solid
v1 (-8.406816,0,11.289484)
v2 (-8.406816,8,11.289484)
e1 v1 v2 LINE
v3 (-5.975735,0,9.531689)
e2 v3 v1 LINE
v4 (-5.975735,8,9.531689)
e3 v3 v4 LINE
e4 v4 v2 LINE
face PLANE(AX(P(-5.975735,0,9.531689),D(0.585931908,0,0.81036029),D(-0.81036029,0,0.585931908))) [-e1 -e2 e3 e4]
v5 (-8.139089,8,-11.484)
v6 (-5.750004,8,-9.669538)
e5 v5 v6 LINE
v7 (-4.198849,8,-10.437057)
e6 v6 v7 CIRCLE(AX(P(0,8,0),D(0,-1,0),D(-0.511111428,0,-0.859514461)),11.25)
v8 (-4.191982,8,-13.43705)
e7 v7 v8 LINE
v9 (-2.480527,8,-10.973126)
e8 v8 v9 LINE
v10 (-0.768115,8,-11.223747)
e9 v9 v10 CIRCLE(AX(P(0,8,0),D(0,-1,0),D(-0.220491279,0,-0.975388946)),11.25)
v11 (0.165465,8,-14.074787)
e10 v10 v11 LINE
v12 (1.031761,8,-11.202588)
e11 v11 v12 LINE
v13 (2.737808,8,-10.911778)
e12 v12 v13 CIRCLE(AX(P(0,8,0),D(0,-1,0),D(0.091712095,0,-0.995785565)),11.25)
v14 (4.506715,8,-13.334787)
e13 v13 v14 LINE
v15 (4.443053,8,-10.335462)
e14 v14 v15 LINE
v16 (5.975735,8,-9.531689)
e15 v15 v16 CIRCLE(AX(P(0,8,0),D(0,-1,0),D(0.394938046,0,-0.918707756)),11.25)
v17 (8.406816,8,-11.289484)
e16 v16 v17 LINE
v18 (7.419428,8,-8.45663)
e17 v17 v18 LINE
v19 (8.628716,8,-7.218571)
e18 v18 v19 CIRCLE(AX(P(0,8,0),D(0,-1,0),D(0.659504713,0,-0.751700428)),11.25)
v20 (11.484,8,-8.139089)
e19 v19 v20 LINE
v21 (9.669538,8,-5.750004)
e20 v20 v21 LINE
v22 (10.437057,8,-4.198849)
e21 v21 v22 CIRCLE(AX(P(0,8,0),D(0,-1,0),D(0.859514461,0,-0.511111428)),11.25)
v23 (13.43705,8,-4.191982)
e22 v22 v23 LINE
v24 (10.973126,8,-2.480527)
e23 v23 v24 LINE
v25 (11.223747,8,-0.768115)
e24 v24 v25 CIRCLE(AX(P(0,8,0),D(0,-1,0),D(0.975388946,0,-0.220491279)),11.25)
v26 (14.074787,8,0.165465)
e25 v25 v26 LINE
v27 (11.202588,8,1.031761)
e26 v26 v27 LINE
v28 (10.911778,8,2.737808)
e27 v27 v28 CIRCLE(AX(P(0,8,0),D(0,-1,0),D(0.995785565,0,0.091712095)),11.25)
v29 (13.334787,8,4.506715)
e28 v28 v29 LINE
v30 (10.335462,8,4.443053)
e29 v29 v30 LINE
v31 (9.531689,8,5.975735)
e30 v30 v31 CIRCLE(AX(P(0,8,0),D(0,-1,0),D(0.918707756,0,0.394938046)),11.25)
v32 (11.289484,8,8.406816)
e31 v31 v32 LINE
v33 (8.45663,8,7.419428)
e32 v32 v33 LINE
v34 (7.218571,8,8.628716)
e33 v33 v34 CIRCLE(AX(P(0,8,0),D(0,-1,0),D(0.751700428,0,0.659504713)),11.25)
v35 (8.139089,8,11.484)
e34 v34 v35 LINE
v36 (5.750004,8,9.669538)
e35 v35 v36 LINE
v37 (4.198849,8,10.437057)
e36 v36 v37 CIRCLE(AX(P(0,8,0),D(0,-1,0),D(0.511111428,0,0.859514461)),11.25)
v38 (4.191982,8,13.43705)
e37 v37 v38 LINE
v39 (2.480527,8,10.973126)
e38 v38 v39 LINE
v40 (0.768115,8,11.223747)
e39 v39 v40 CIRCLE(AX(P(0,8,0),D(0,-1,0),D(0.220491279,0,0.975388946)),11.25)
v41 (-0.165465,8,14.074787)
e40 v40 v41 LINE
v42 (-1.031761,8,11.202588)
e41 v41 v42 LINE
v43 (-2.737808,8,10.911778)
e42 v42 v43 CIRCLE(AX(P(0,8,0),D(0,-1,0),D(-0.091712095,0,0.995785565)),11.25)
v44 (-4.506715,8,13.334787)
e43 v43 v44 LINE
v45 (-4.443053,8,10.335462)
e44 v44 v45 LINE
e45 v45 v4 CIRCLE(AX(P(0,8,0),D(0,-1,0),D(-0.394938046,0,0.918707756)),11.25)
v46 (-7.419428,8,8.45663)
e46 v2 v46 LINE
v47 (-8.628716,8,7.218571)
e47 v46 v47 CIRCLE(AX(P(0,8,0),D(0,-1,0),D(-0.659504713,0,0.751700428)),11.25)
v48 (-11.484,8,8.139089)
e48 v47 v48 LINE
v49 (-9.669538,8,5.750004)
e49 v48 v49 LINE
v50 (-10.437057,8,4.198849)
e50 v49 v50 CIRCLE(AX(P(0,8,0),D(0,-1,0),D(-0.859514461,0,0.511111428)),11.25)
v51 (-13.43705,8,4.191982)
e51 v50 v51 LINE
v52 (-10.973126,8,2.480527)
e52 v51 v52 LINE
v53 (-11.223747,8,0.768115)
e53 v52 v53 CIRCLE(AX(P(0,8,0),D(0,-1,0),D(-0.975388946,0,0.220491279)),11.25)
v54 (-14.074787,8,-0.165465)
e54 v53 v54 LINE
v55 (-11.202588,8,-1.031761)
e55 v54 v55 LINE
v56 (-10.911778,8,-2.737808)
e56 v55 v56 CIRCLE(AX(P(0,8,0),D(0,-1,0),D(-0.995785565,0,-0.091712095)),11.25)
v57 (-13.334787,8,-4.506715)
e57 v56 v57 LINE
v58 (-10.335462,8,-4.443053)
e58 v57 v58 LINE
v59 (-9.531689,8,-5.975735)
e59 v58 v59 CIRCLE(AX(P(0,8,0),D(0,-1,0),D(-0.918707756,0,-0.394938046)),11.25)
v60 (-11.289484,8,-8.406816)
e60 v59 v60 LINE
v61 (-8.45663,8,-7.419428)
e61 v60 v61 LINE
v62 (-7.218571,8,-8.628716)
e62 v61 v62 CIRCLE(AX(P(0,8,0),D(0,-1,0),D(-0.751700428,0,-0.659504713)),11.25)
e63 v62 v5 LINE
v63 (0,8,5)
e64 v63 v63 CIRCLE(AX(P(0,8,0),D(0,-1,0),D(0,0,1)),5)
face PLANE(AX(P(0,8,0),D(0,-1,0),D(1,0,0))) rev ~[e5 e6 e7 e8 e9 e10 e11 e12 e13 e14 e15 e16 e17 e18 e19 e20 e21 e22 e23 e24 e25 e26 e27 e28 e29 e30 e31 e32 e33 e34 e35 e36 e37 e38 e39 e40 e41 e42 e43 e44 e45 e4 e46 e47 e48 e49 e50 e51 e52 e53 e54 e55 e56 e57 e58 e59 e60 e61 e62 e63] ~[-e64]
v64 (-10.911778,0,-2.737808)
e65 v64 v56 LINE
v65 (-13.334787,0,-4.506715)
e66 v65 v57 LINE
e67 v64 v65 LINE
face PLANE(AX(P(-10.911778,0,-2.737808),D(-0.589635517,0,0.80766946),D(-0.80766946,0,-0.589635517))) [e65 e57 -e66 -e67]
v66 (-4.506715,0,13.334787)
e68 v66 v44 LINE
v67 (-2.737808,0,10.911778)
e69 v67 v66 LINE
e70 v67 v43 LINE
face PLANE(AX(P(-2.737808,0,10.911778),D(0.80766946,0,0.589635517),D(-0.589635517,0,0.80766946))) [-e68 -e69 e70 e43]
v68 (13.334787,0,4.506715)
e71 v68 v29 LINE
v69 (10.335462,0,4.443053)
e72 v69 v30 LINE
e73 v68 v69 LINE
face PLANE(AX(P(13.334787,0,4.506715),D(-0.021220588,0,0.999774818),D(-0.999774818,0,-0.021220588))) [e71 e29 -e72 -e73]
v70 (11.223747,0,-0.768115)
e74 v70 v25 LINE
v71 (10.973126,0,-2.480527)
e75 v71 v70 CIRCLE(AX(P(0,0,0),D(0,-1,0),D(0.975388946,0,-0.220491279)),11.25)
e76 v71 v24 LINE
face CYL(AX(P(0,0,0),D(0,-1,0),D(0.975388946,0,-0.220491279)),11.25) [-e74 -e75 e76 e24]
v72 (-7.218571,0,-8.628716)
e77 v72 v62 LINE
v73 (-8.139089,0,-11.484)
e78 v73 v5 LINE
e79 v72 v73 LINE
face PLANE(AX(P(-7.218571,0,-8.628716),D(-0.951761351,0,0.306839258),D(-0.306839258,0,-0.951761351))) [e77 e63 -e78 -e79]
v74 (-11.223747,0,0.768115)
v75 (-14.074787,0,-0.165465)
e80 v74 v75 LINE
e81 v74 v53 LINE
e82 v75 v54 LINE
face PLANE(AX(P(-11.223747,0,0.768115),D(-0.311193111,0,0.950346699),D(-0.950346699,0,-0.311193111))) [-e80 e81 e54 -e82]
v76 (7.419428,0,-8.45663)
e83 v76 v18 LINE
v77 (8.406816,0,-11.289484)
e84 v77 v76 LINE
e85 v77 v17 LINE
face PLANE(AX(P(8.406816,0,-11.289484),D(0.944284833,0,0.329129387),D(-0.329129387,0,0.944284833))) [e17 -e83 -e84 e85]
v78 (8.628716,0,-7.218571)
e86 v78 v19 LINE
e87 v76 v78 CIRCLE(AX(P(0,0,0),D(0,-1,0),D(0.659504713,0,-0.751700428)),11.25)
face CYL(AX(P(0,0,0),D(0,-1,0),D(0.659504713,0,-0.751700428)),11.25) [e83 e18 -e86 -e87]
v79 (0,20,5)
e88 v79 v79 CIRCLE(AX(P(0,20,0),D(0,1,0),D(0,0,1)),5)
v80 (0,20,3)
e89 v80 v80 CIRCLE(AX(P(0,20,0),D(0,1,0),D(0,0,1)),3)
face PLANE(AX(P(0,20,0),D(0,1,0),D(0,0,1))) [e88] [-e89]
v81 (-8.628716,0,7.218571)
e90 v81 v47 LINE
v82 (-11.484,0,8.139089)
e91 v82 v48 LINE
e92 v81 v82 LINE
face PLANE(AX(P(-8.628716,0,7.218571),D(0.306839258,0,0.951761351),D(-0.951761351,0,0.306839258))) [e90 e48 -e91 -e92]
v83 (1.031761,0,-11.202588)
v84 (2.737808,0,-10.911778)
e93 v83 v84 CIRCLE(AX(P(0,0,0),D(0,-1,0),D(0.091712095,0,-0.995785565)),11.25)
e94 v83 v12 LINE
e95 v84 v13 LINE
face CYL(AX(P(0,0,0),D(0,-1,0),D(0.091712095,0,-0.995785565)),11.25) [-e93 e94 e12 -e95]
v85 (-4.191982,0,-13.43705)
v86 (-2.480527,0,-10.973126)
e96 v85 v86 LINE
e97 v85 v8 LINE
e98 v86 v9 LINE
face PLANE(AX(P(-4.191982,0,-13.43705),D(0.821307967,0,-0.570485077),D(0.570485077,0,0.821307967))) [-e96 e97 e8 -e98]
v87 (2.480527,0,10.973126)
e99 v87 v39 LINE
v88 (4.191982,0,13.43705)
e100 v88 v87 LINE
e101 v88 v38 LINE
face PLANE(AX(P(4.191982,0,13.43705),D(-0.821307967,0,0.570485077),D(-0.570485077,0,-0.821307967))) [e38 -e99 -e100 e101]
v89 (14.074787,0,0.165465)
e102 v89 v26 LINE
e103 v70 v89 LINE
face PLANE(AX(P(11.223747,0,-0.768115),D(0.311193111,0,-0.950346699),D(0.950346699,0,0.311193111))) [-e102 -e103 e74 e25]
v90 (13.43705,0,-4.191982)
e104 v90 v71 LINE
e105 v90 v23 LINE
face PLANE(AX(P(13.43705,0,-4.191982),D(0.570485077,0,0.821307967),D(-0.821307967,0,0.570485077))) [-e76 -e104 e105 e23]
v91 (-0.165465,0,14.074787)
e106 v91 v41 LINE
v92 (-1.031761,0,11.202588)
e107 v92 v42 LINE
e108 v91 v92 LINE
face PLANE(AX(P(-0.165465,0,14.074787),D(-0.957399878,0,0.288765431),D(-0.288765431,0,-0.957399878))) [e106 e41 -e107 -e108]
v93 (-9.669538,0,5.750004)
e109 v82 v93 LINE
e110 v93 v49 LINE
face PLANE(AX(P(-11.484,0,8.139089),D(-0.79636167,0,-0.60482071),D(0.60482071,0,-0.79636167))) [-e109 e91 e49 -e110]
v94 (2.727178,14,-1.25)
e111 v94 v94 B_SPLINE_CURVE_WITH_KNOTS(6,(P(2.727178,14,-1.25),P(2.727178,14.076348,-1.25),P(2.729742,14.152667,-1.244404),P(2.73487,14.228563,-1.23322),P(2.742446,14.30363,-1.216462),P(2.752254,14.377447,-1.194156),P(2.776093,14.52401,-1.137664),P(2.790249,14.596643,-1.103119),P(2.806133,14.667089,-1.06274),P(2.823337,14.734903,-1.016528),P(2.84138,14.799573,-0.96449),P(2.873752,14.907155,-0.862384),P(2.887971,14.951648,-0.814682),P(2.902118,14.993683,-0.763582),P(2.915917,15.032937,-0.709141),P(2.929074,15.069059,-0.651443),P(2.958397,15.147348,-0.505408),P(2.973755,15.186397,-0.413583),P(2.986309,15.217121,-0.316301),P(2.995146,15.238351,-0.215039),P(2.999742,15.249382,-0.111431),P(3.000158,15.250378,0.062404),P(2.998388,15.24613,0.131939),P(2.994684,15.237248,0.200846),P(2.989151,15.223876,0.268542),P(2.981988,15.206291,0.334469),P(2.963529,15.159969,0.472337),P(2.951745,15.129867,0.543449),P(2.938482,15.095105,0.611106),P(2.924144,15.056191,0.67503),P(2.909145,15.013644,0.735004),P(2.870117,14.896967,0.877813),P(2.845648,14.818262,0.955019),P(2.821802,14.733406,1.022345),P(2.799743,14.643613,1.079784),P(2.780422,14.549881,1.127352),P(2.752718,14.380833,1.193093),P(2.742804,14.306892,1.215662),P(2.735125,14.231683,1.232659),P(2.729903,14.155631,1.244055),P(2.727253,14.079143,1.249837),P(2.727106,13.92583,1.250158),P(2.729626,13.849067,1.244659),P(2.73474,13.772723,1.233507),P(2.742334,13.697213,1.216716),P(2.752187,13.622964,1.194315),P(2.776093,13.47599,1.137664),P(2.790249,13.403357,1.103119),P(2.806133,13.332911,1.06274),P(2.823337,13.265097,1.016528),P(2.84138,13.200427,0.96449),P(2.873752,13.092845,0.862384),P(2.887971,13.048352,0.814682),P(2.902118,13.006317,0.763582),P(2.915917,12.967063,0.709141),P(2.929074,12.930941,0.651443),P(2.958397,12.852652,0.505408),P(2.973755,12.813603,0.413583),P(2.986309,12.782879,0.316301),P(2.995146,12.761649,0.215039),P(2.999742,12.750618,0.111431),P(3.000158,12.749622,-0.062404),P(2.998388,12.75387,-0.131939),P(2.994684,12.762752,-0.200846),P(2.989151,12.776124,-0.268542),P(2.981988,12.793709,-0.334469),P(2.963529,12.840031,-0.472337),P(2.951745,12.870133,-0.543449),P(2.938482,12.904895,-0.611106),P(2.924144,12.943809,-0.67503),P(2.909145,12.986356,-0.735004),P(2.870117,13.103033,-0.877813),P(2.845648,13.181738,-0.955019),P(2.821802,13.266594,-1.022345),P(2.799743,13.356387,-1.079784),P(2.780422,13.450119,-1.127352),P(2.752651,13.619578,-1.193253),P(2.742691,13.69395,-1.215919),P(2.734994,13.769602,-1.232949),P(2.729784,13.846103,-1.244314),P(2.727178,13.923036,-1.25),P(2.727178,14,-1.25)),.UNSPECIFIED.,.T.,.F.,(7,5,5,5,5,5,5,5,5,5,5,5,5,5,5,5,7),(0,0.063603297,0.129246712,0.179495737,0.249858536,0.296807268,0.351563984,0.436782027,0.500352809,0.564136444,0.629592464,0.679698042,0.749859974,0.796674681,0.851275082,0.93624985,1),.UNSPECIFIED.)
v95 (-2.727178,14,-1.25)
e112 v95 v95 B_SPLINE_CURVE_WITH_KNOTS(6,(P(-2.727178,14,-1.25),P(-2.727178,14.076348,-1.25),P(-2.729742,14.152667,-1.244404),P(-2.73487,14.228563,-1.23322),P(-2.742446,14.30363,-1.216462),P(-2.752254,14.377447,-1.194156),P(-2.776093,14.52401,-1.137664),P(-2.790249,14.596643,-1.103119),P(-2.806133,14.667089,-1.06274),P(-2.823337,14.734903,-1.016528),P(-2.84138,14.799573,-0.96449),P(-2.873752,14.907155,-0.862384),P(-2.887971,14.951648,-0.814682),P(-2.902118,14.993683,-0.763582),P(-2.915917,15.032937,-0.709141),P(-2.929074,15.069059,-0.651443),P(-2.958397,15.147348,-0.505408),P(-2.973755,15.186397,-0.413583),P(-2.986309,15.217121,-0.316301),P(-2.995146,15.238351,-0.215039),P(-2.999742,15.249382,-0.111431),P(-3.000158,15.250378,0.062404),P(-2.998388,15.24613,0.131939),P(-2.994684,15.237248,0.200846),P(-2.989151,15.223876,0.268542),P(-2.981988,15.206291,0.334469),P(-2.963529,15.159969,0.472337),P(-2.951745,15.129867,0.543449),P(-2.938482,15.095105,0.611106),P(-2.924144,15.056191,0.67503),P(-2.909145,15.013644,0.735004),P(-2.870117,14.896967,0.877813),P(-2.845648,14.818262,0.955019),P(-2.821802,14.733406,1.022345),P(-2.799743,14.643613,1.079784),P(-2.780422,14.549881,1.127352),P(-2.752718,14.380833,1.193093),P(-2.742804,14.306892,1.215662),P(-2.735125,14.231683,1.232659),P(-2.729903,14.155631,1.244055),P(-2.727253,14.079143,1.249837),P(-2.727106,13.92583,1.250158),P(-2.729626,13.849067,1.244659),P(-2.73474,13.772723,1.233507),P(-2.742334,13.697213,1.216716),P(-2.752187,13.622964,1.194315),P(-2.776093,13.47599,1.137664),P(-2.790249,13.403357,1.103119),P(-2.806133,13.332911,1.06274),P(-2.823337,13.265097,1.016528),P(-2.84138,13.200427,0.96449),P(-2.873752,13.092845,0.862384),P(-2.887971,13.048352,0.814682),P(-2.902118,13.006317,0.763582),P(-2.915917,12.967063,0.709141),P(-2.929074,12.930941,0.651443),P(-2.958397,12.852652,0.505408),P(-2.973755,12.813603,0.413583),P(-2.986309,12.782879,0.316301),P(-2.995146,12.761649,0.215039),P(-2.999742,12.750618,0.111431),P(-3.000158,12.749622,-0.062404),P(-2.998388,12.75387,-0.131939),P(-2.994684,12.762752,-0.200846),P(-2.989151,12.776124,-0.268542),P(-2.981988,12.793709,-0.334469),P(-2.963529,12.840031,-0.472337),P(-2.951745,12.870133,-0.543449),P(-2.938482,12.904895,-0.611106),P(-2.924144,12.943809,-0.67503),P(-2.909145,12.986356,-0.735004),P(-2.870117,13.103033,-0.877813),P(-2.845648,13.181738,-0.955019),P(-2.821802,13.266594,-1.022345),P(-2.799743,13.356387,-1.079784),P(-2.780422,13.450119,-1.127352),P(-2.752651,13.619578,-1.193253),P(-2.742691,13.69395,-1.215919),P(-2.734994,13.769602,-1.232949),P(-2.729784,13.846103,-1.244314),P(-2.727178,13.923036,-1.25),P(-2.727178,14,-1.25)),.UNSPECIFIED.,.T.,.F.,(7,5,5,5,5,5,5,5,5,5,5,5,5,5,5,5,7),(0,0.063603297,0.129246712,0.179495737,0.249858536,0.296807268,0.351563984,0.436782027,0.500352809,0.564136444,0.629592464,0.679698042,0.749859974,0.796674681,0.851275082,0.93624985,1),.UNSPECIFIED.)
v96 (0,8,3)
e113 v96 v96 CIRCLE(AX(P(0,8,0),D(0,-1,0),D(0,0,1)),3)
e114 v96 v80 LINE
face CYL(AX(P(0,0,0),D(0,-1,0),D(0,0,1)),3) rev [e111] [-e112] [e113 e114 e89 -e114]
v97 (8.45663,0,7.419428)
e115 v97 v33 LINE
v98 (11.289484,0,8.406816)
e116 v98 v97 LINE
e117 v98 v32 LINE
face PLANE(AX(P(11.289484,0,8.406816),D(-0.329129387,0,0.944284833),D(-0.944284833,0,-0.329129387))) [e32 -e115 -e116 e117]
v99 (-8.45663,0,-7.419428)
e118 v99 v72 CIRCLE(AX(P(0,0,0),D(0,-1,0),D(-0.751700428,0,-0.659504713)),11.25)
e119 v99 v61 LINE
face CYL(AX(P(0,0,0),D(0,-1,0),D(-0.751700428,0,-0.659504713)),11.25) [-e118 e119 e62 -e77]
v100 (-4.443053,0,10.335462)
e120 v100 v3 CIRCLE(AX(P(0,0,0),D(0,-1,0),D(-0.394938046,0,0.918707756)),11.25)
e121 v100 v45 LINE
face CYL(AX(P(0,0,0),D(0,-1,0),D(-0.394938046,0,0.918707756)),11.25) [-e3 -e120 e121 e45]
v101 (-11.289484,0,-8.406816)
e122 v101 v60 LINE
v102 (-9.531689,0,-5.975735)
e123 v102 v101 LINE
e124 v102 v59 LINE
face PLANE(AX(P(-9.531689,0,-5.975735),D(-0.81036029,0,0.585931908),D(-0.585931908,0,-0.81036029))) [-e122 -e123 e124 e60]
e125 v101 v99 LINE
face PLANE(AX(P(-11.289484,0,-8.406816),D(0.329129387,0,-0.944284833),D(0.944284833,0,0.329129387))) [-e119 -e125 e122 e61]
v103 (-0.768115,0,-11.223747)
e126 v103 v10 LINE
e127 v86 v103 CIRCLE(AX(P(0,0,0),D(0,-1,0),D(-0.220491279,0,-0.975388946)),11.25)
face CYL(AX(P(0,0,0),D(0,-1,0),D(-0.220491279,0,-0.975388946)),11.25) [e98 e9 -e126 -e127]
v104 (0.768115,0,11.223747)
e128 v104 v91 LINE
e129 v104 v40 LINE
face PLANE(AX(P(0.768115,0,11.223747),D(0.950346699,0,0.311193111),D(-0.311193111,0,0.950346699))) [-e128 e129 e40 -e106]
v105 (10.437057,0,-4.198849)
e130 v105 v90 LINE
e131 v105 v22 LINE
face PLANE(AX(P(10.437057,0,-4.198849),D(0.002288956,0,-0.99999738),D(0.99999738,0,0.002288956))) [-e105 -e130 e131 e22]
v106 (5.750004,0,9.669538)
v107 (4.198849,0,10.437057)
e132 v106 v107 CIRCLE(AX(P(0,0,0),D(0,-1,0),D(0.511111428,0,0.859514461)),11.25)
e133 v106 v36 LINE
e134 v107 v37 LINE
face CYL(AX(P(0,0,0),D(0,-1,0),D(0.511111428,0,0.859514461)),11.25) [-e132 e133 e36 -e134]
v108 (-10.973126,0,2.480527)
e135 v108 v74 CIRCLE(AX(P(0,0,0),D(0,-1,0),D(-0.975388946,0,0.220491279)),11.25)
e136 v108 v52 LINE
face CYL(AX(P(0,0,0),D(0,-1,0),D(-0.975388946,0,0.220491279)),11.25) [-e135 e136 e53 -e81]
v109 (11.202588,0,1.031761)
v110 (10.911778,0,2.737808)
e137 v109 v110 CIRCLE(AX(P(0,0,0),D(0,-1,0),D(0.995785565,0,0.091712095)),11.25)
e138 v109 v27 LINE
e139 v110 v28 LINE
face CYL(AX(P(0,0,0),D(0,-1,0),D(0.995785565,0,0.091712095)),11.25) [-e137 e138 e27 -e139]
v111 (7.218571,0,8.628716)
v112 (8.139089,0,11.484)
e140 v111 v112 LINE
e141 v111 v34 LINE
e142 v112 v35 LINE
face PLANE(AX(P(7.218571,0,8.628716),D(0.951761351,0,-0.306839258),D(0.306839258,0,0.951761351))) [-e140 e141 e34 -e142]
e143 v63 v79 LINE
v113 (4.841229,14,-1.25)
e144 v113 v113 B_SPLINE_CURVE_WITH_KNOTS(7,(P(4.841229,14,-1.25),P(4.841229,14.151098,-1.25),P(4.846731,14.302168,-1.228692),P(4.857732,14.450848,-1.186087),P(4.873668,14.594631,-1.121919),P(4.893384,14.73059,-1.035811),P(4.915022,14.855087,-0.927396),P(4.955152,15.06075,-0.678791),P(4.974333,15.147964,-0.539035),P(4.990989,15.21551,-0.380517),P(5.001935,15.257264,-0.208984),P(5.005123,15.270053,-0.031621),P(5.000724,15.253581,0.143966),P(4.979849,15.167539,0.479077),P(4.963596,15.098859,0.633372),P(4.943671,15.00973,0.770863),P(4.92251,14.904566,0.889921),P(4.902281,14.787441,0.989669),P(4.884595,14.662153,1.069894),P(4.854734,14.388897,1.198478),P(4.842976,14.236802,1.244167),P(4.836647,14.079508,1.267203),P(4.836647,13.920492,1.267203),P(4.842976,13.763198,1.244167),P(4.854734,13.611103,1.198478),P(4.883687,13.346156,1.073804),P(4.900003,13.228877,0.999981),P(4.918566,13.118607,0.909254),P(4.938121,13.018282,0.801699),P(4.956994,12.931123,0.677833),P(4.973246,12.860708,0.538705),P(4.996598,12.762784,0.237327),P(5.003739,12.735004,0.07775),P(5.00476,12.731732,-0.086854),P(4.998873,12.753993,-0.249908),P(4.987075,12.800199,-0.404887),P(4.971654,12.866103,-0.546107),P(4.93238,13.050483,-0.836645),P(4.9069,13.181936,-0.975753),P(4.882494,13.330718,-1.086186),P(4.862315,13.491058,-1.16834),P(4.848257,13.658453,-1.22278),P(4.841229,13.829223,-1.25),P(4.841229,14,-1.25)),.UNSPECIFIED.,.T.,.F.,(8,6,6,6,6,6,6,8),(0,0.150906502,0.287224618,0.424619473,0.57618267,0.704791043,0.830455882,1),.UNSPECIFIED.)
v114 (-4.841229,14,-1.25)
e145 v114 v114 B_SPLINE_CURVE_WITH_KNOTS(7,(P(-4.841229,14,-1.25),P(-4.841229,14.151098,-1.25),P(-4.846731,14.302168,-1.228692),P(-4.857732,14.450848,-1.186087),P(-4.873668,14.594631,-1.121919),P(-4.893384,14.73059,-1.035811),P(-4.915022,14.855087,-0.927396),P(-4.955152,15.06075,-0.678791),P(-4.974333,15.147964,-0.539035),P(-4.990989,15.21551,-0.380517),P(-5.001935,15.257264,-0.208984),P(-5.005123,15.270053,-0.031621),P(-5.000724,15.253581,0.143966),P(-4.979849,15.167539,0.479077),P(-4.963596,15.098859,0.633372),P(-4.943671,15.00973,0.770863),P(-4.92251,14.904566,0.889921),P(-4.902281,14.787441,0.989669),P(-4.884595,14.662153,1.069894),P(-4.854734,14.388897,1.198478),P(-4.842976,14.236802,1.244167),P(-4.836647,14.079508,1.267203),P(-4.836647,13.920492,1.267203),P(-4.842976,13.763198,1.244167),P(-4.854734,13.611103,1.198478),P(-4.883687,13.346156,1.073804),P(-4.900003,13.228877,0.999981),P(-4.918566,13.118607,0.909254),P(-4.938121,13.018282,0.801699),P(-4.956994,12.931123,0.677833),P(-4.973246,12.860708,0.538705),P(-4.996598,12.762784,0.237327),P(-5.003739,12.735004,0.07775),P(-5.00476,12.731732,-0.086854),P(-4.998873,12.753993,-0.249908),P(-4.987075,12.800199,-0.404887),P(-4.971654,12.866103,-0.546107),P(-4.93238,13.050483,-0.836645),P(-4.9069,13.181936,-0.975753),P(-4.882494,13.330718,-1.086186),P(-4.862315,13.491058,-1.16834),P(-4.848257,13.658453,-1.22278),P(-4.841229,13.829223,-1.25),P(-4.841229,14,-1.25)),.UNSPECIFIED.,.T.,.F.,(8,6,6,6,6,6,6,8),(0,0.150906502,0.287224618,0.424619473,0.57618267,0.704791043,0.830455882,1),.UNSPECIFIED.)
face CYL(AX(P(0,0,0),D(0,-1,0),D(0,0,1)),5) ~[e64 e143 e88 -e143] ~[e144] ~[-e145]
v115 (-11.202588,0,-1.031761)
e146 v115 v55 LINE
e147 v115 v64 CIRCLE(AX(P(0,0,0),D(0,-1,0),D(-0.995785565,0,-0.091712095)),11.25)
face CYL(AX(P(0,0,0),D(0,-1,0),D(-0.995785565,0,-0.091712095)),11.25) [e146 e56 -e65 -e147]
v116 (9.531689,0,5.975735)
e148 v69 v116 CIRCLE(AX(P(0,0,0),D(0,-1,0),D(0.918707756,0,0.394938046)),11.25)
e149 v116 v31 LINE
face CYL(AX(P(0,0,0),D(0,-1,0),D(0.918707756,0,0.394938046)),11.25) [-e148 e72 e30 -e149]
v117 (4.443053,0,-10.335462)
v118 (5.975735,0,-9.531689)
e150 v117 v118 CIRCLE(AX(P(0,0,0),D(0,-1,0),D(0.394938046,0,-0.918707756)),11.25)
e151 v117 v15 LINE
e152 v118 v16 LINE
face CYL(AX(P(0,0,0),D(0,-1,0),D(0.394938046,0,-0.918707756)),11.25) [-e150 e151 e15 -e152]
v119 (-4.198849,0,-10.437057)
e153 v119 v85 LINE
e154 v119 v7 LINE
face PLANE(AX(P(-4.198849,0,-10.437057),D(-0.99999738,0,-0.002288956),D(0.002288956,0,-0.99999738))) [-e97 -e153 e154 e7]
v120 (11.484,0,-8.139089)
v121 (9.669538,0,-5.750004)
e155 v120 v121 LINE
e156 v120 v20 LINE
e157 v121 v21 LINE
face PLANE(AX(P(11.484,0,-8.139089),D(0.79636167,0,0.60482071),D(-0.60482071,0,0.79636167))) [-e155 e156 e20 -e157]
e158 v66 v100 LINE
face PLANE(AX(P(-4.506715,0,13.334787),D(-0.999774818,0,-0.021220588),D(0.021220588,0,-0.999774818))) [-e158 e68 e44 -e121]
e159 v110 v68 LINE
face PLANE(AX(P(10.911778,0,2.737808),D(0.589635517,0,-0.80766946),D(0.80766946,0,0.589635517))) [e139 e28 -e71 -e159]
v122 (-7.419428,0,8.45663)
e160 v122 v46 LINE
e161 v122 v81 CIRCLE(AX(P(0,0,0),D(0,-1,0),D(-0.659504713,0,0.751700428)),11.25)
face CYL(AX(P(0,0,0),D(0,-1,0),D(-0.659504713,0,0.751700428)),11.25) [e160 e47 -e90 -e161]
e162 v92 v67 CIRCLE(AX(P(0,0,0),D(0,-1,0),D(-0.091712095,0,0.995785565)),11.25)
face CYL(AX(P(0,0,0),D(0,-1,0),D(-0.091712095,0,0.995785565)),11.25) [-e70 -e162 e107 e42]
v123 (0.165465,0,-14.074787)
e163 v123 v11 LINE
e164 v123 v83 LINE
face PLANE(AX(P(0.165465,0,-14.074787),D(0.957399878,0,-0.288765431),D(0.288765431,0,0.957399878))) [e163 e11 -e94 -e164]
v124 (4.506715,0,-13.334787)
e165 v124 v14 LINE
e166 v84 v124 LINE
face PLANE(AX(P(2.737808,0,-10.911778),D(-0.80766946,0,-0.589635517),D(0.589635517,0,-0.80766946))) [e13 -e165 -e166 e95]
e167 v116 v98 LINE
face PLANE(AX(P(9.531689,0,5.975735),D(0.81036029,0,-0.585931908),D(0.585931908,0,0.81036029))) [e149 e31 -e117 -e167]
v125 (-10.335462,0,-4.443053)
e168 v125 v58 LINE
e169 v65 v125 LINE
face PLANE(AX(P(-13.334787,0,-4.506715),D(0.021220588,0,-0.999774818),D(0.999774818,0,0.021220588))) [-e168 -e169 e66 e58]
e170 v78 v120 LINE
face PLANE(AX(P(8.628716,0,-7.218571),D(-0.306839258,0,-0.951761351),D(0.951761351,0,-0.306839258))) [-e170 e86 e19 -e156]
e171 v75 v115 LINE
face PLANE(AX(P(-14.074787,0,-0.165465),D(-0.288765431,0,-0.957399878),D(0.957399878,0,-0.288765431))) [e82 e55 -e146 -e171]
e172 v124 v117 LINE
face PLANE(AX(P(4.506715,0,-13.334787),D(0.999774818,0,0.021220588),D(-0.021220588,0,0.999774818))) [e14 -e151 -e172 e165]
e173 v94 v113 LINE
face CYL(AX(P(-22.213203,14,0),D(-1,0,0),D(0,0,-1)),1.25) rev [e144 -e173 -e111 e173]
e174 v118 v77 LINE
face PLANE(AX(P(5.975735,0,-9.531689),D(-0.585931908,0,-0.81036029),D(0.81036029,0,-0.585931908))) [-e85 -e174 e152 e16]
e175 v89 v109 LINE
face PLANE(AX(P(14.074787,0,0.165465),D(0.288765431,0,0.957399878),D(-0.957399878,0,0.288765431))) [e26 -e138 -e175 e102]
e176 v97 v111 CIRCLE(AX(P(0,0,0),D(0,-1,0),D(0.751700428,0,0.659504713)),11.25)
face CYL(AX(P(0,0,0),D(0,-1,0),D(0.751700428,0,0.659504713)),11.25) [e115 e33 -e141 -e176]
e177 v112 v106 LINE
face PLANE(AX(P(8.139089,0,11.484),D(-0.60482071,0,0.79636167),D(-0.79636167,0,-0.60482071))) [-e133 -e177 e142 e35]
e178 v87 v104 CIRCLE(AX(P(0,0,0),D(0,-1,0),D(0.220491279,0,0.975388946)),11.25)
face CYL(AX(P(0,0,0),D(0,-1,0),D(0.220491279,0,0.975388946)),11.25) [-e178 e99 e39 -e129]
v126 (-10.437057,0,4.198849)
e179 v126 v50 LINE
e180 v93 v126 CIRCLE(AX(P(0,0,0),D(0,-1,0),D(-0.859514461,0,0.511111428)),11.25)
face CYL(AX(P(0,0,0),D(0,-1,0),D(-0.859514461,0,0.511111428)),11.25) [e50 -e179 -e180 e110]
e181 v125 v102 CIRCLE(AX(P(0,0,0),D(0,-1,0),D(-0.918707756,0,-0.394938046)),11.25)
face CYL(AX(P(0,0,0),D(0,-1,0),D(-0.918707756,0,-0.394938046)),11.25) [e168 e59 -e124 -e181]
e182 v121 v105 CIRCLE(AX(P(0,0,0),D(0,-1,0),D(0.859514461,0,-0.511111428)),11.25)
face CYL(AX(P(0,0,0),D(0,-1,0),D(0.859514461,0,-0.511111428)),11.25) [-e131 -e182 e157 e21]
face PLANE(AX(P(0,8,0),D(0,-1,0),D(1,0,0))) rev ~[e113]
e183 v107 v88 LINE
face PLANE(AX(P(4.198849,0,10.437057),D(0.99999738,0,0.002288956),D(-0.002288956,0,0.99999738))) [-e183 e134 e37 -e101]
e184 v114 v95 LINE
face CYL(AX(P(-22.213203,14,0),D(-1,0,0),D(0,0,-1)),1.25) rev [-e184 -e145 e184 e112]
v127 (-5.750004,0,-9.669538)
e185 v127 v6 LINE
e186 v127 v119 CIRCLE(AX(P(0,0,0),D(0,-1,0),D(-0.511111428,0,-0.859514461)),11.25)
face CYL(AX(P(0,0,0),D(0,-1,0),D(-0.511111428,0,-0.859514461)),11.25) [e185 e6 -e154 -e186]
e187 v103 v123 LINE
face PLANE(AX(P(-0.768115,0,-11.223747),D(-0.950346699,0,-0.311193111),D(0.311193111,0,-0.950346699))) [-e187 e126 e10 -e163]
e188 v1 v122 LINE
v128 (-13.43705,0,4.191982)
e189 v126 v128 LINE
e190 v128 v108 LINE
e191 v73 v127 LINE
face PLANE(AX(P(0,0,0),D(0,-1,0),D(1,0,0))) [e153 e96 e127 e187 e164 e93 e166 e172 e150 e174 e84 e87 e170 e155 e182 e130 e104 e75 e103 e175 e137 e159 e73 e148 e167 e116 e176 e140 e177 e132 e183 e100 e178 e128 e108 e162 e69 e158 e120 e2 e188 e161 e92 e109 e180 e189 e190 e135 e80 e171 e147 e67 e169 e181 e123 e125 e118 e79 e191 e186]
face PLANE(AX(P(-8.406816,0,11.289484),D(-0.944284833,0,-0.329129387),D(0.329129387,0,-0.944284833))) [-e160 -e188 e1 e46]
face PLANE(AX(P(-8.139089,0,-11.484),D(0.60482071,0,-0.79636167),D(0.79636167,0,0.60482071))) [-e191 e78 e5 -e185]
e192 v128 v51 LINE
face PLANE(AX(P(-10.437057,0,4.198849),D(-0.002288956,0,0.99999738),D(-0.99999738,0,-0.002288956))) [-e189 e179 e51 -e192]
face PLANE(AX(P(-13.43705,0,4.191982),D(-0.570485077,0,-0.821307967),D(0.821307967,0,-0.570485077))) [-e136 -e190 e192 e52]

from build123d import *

# Parameters (mm, degrees)
SKETCH2_R               = 5
SKETCH2_R_2             = 3
BOSS_EXTRUDE1_DEPTH     = 20
CUT_EXTRUDE1_DEPTH      = 22.213203436
CUT_EXTRUDE1_DEPTH_BACK = 22.213203436
SKETCH3_R               = 1.25
BOSS_EXTRUDE2_DEPTH     = 8


with BuildPart() as part:
    # Sketch2 → Boss-Extrude1 (new body)
    with BuildSketch(Plane(origin=(0, 0, 0), x_dir=(1, 0, 0), z_dir=(0, 1, 0))):
        with Locations(Location((0, 0, 0), (0, 0, 270))):
            Circle(SKETCH2_R)
        with Locations(Location((0, 0, 0), (0, 0, 270))):
            Circle(SKETCH2_R_2, mode=Mode.SUBTRACT)
    extrude(amount=BOSS_EXTRUDE1_DEPTH)

    # Sketch3 → Cut-Extrude1 (cut, two sides: drawn at the far end of the back side and taken through both)
    with BuildSketch(Plane(origin=(0, 0, 0), x_dir=(0, 0, -1), z_dir=(1, 0, 0)).offset(-CUT_EXTRUDE1_DEPTH_BACK)):
        with Locations((0, 14)):
            Circle(SKETCH3_R)
    extrude(amount=CUT_EXTRUDE1_DEPTH + CUT_EXTRUDE1_DEPTH_BACK, mode=Mode.SUBTRACT)

    # Sketch4 → Boss-Extrude2 (add)
    with BuildSketch(Plane.XZ):
        with BuildLine():
            Line((11.223747146, -0.768114575), (14.074787242, 0.165464759))
            Line((14.074787242, 0.165464759), (11.202587609, 1.031761053))
            ThreePointArc((11.202587609, 1.031761053), (11.090038067, 1.890385058), (10.911778318, 2.737808237))
            Line((10.911778318, 2.737808237), (13.334786699, 4.506714787))
            Line((13.334786699, 4.506714787), (10.335462245, 4.443053024))
            ThreePointArc((10.335462245, 4.443053024), (9.963091861, 5.224873259), (9.531688601, 5.975735303))
            Line((9.531688601, 5.975735303), (11.289484326, 8.406816172))
            Line((11.289484326, 8.406816172), (8.456629826, 7.41942801))
            ThreePointArc((8.456629826, 7.41942801), (7.860888806, 8.047914461), (7.218570793, 8.628715763))
            Line((7.218570793, 8.628715763), (8.139088568, 11.483999816))
            Line((8.139088568, 11.483999816), (5.750003558, 9.669537687))
            ThreePointArc((5.750003558, 9.669537687), (4.989207185, 10.083169723), (4.19884898, 10.437057403))
            Line((4.19884898, 10.437057403), (4.191982112, 13.437049544))
            Line((4.191982112, 13.437049544), (2.48052688, 10.973125644))
            ThreePointArc((2.48052688, 10.973125644), (1.629147203, 11.131414079), (0.768114575, 11.223747146))
            Line((0.768114575, 11.223747146), (-0.165464759, 14.074787242))
            Line((-0.165464759, 14.074787242), (-1.031761053, 11.202587609))
            ThreePointArc((-1.031761053, 11.202587609), (-1.890385058, 11.090038067), (-2.737808237, 10.911778318))
            Line((-2.737808237, 10.911778318), (-4.506714787, 13.334786699))
            Line((-4.506714787, 13.334786699), (-4.443053024, 10.335462245))
            ThreePointArc((-4.443053024, 10.335462245), (-5.224873259, 9.963091861), (-5.975735303, 9.531688601))
            Line((-5.975735303, 9.531688601), (-8.406816172, 11.289484326))
            Line((-8.406816172, 11.289484326), (-7.41942801, 8.456629826))
            ThreePointArc((-7.41942801, 8.456629826), (-8.047914461, 7.860888806), (-8.628715763, 7.218570793))
            Line((-8.628715763, 7.218570793), (-11.483999816, 8.139088568))
            Line((-11.483999816, 8.139088568), (-9.669537687, 5.750003558))
            ThreePointArc((-9.669537687, 5.750003558), (-10.083169723, 4.989207185), (-10.437057403, 4.19884898))
            Line((-10.437057403, 4.19884898), (-13.437049544, 4.191982112))
            Line((-13.437049544, 4.191982112), (-10.973125644, 2.48052688))
            ThreePointArc((-10.973125644, 2.48052688), (-11.131414079, 1.629147203), (-11.223747146, 0.768114575))
            Line((-11.223747146, 0.768114575), (-14.074787242, -0.165464759))
            Line((-14.074787242, -0.165464759), (-11.202587609, -1.031761053))
            ThreePointArc((-11.202587609, -1.031761053), (-11.090038067, -1.890385058), (-10.911778318, -2.737808237))
            Line((-10.911778318, -2.737808237), (-13.334786699, -4.506714787))
            Line((-13.334786699, -4.506714787), (-10.335462245, -4.443053024))
            ThreePointArc((-10.335462245, -4.443053024), (-9.963091861, -5.224873259), (-9.531688601, -5.975735303))
            Line((-9.531688601, -5.975735303), (-11.289484326, -8.406816172))
            Line((-11.289484326, -8.406816172), (-8.456629826, -7.41942801))
            ThreePointArc((-8.456629826, -7.41942801), (-7.860888806, -8.047914461), (-7.218570793, -8.628715763))
            Line((-7.218570793, -8.628715763), (-8.139088568, -11.483999816))
            Line((-8.139088568, -11.483999816), (-5.750003558, -9.669537687))
            ThreePointArc((-5.750003558, -9.669537687), (-4.989207185, -10.083169723), (-4.19884898, -10.437057403))
            Line((-4.19884898, -10.437057403), (-4.191982112, -13.437049544))
            Line((-4.191982112, -13.437049544), (-2.48052688, -10.973125644))
            ThreePointArc((-2.48052688, -10.973125644), (-1.629147203, -11.131414079), (-0.768114575, -11.223747146))
            Line((-0.768114575, -11.223747146), (0.165464759, -14.074787242))
            Line((0.165464759, -14.074787242), (1.031761053, -11.202587609))
            ThreePointArc((1.031761053, -11.202587609), (1.890385058, -11.090038067), (2.737808237, -10.911778318))
            Line((2.737808237, -10.911778318), (4.506714787, -13.334786699))
            Line((4.506714787, -13.334786699), (4.443053024, -10.335462245))
            ThreePointArc((4.443053024, -10.335462245), (5.224873259, -9.963091861), (5.975735303, -9.531688601))
            Line((5.975735303, -9.531688601), (8.406816172, -11.289484326))
            Line((8.406816172, -11.289484326), (7.41942801, -8.456629826))
            ThreePointArc((7.41942801, -8.456629826), (8.047914461, -7.860888806), (8.628715763, -7.218570793))
            Line((8.628715763, -7.218570793), (11.483999816, -8.139088568))
            Line((11.483999816, -8.139088568), (9.669537687, -5.750003558))
            ThreePointArc((9.669537687, -5.750003558), (10.083169723, -4.989207185), (10.437057403, -4.19884898))
            Line((10.437057403, -4.19884898), (13.437049544, -4.191982112))
            Line((13.437049544, -4.191982112), (10.973125644, -2.48052688))
            ThreePointArc((10.973125644, -2.48052688), (11.131414079, -1.629147203), (11.223747146, -0.768114575))
        make_face()
    extrude(amount=-BOSS_EXTRUDE2_DEPTH)


solid = part.part
